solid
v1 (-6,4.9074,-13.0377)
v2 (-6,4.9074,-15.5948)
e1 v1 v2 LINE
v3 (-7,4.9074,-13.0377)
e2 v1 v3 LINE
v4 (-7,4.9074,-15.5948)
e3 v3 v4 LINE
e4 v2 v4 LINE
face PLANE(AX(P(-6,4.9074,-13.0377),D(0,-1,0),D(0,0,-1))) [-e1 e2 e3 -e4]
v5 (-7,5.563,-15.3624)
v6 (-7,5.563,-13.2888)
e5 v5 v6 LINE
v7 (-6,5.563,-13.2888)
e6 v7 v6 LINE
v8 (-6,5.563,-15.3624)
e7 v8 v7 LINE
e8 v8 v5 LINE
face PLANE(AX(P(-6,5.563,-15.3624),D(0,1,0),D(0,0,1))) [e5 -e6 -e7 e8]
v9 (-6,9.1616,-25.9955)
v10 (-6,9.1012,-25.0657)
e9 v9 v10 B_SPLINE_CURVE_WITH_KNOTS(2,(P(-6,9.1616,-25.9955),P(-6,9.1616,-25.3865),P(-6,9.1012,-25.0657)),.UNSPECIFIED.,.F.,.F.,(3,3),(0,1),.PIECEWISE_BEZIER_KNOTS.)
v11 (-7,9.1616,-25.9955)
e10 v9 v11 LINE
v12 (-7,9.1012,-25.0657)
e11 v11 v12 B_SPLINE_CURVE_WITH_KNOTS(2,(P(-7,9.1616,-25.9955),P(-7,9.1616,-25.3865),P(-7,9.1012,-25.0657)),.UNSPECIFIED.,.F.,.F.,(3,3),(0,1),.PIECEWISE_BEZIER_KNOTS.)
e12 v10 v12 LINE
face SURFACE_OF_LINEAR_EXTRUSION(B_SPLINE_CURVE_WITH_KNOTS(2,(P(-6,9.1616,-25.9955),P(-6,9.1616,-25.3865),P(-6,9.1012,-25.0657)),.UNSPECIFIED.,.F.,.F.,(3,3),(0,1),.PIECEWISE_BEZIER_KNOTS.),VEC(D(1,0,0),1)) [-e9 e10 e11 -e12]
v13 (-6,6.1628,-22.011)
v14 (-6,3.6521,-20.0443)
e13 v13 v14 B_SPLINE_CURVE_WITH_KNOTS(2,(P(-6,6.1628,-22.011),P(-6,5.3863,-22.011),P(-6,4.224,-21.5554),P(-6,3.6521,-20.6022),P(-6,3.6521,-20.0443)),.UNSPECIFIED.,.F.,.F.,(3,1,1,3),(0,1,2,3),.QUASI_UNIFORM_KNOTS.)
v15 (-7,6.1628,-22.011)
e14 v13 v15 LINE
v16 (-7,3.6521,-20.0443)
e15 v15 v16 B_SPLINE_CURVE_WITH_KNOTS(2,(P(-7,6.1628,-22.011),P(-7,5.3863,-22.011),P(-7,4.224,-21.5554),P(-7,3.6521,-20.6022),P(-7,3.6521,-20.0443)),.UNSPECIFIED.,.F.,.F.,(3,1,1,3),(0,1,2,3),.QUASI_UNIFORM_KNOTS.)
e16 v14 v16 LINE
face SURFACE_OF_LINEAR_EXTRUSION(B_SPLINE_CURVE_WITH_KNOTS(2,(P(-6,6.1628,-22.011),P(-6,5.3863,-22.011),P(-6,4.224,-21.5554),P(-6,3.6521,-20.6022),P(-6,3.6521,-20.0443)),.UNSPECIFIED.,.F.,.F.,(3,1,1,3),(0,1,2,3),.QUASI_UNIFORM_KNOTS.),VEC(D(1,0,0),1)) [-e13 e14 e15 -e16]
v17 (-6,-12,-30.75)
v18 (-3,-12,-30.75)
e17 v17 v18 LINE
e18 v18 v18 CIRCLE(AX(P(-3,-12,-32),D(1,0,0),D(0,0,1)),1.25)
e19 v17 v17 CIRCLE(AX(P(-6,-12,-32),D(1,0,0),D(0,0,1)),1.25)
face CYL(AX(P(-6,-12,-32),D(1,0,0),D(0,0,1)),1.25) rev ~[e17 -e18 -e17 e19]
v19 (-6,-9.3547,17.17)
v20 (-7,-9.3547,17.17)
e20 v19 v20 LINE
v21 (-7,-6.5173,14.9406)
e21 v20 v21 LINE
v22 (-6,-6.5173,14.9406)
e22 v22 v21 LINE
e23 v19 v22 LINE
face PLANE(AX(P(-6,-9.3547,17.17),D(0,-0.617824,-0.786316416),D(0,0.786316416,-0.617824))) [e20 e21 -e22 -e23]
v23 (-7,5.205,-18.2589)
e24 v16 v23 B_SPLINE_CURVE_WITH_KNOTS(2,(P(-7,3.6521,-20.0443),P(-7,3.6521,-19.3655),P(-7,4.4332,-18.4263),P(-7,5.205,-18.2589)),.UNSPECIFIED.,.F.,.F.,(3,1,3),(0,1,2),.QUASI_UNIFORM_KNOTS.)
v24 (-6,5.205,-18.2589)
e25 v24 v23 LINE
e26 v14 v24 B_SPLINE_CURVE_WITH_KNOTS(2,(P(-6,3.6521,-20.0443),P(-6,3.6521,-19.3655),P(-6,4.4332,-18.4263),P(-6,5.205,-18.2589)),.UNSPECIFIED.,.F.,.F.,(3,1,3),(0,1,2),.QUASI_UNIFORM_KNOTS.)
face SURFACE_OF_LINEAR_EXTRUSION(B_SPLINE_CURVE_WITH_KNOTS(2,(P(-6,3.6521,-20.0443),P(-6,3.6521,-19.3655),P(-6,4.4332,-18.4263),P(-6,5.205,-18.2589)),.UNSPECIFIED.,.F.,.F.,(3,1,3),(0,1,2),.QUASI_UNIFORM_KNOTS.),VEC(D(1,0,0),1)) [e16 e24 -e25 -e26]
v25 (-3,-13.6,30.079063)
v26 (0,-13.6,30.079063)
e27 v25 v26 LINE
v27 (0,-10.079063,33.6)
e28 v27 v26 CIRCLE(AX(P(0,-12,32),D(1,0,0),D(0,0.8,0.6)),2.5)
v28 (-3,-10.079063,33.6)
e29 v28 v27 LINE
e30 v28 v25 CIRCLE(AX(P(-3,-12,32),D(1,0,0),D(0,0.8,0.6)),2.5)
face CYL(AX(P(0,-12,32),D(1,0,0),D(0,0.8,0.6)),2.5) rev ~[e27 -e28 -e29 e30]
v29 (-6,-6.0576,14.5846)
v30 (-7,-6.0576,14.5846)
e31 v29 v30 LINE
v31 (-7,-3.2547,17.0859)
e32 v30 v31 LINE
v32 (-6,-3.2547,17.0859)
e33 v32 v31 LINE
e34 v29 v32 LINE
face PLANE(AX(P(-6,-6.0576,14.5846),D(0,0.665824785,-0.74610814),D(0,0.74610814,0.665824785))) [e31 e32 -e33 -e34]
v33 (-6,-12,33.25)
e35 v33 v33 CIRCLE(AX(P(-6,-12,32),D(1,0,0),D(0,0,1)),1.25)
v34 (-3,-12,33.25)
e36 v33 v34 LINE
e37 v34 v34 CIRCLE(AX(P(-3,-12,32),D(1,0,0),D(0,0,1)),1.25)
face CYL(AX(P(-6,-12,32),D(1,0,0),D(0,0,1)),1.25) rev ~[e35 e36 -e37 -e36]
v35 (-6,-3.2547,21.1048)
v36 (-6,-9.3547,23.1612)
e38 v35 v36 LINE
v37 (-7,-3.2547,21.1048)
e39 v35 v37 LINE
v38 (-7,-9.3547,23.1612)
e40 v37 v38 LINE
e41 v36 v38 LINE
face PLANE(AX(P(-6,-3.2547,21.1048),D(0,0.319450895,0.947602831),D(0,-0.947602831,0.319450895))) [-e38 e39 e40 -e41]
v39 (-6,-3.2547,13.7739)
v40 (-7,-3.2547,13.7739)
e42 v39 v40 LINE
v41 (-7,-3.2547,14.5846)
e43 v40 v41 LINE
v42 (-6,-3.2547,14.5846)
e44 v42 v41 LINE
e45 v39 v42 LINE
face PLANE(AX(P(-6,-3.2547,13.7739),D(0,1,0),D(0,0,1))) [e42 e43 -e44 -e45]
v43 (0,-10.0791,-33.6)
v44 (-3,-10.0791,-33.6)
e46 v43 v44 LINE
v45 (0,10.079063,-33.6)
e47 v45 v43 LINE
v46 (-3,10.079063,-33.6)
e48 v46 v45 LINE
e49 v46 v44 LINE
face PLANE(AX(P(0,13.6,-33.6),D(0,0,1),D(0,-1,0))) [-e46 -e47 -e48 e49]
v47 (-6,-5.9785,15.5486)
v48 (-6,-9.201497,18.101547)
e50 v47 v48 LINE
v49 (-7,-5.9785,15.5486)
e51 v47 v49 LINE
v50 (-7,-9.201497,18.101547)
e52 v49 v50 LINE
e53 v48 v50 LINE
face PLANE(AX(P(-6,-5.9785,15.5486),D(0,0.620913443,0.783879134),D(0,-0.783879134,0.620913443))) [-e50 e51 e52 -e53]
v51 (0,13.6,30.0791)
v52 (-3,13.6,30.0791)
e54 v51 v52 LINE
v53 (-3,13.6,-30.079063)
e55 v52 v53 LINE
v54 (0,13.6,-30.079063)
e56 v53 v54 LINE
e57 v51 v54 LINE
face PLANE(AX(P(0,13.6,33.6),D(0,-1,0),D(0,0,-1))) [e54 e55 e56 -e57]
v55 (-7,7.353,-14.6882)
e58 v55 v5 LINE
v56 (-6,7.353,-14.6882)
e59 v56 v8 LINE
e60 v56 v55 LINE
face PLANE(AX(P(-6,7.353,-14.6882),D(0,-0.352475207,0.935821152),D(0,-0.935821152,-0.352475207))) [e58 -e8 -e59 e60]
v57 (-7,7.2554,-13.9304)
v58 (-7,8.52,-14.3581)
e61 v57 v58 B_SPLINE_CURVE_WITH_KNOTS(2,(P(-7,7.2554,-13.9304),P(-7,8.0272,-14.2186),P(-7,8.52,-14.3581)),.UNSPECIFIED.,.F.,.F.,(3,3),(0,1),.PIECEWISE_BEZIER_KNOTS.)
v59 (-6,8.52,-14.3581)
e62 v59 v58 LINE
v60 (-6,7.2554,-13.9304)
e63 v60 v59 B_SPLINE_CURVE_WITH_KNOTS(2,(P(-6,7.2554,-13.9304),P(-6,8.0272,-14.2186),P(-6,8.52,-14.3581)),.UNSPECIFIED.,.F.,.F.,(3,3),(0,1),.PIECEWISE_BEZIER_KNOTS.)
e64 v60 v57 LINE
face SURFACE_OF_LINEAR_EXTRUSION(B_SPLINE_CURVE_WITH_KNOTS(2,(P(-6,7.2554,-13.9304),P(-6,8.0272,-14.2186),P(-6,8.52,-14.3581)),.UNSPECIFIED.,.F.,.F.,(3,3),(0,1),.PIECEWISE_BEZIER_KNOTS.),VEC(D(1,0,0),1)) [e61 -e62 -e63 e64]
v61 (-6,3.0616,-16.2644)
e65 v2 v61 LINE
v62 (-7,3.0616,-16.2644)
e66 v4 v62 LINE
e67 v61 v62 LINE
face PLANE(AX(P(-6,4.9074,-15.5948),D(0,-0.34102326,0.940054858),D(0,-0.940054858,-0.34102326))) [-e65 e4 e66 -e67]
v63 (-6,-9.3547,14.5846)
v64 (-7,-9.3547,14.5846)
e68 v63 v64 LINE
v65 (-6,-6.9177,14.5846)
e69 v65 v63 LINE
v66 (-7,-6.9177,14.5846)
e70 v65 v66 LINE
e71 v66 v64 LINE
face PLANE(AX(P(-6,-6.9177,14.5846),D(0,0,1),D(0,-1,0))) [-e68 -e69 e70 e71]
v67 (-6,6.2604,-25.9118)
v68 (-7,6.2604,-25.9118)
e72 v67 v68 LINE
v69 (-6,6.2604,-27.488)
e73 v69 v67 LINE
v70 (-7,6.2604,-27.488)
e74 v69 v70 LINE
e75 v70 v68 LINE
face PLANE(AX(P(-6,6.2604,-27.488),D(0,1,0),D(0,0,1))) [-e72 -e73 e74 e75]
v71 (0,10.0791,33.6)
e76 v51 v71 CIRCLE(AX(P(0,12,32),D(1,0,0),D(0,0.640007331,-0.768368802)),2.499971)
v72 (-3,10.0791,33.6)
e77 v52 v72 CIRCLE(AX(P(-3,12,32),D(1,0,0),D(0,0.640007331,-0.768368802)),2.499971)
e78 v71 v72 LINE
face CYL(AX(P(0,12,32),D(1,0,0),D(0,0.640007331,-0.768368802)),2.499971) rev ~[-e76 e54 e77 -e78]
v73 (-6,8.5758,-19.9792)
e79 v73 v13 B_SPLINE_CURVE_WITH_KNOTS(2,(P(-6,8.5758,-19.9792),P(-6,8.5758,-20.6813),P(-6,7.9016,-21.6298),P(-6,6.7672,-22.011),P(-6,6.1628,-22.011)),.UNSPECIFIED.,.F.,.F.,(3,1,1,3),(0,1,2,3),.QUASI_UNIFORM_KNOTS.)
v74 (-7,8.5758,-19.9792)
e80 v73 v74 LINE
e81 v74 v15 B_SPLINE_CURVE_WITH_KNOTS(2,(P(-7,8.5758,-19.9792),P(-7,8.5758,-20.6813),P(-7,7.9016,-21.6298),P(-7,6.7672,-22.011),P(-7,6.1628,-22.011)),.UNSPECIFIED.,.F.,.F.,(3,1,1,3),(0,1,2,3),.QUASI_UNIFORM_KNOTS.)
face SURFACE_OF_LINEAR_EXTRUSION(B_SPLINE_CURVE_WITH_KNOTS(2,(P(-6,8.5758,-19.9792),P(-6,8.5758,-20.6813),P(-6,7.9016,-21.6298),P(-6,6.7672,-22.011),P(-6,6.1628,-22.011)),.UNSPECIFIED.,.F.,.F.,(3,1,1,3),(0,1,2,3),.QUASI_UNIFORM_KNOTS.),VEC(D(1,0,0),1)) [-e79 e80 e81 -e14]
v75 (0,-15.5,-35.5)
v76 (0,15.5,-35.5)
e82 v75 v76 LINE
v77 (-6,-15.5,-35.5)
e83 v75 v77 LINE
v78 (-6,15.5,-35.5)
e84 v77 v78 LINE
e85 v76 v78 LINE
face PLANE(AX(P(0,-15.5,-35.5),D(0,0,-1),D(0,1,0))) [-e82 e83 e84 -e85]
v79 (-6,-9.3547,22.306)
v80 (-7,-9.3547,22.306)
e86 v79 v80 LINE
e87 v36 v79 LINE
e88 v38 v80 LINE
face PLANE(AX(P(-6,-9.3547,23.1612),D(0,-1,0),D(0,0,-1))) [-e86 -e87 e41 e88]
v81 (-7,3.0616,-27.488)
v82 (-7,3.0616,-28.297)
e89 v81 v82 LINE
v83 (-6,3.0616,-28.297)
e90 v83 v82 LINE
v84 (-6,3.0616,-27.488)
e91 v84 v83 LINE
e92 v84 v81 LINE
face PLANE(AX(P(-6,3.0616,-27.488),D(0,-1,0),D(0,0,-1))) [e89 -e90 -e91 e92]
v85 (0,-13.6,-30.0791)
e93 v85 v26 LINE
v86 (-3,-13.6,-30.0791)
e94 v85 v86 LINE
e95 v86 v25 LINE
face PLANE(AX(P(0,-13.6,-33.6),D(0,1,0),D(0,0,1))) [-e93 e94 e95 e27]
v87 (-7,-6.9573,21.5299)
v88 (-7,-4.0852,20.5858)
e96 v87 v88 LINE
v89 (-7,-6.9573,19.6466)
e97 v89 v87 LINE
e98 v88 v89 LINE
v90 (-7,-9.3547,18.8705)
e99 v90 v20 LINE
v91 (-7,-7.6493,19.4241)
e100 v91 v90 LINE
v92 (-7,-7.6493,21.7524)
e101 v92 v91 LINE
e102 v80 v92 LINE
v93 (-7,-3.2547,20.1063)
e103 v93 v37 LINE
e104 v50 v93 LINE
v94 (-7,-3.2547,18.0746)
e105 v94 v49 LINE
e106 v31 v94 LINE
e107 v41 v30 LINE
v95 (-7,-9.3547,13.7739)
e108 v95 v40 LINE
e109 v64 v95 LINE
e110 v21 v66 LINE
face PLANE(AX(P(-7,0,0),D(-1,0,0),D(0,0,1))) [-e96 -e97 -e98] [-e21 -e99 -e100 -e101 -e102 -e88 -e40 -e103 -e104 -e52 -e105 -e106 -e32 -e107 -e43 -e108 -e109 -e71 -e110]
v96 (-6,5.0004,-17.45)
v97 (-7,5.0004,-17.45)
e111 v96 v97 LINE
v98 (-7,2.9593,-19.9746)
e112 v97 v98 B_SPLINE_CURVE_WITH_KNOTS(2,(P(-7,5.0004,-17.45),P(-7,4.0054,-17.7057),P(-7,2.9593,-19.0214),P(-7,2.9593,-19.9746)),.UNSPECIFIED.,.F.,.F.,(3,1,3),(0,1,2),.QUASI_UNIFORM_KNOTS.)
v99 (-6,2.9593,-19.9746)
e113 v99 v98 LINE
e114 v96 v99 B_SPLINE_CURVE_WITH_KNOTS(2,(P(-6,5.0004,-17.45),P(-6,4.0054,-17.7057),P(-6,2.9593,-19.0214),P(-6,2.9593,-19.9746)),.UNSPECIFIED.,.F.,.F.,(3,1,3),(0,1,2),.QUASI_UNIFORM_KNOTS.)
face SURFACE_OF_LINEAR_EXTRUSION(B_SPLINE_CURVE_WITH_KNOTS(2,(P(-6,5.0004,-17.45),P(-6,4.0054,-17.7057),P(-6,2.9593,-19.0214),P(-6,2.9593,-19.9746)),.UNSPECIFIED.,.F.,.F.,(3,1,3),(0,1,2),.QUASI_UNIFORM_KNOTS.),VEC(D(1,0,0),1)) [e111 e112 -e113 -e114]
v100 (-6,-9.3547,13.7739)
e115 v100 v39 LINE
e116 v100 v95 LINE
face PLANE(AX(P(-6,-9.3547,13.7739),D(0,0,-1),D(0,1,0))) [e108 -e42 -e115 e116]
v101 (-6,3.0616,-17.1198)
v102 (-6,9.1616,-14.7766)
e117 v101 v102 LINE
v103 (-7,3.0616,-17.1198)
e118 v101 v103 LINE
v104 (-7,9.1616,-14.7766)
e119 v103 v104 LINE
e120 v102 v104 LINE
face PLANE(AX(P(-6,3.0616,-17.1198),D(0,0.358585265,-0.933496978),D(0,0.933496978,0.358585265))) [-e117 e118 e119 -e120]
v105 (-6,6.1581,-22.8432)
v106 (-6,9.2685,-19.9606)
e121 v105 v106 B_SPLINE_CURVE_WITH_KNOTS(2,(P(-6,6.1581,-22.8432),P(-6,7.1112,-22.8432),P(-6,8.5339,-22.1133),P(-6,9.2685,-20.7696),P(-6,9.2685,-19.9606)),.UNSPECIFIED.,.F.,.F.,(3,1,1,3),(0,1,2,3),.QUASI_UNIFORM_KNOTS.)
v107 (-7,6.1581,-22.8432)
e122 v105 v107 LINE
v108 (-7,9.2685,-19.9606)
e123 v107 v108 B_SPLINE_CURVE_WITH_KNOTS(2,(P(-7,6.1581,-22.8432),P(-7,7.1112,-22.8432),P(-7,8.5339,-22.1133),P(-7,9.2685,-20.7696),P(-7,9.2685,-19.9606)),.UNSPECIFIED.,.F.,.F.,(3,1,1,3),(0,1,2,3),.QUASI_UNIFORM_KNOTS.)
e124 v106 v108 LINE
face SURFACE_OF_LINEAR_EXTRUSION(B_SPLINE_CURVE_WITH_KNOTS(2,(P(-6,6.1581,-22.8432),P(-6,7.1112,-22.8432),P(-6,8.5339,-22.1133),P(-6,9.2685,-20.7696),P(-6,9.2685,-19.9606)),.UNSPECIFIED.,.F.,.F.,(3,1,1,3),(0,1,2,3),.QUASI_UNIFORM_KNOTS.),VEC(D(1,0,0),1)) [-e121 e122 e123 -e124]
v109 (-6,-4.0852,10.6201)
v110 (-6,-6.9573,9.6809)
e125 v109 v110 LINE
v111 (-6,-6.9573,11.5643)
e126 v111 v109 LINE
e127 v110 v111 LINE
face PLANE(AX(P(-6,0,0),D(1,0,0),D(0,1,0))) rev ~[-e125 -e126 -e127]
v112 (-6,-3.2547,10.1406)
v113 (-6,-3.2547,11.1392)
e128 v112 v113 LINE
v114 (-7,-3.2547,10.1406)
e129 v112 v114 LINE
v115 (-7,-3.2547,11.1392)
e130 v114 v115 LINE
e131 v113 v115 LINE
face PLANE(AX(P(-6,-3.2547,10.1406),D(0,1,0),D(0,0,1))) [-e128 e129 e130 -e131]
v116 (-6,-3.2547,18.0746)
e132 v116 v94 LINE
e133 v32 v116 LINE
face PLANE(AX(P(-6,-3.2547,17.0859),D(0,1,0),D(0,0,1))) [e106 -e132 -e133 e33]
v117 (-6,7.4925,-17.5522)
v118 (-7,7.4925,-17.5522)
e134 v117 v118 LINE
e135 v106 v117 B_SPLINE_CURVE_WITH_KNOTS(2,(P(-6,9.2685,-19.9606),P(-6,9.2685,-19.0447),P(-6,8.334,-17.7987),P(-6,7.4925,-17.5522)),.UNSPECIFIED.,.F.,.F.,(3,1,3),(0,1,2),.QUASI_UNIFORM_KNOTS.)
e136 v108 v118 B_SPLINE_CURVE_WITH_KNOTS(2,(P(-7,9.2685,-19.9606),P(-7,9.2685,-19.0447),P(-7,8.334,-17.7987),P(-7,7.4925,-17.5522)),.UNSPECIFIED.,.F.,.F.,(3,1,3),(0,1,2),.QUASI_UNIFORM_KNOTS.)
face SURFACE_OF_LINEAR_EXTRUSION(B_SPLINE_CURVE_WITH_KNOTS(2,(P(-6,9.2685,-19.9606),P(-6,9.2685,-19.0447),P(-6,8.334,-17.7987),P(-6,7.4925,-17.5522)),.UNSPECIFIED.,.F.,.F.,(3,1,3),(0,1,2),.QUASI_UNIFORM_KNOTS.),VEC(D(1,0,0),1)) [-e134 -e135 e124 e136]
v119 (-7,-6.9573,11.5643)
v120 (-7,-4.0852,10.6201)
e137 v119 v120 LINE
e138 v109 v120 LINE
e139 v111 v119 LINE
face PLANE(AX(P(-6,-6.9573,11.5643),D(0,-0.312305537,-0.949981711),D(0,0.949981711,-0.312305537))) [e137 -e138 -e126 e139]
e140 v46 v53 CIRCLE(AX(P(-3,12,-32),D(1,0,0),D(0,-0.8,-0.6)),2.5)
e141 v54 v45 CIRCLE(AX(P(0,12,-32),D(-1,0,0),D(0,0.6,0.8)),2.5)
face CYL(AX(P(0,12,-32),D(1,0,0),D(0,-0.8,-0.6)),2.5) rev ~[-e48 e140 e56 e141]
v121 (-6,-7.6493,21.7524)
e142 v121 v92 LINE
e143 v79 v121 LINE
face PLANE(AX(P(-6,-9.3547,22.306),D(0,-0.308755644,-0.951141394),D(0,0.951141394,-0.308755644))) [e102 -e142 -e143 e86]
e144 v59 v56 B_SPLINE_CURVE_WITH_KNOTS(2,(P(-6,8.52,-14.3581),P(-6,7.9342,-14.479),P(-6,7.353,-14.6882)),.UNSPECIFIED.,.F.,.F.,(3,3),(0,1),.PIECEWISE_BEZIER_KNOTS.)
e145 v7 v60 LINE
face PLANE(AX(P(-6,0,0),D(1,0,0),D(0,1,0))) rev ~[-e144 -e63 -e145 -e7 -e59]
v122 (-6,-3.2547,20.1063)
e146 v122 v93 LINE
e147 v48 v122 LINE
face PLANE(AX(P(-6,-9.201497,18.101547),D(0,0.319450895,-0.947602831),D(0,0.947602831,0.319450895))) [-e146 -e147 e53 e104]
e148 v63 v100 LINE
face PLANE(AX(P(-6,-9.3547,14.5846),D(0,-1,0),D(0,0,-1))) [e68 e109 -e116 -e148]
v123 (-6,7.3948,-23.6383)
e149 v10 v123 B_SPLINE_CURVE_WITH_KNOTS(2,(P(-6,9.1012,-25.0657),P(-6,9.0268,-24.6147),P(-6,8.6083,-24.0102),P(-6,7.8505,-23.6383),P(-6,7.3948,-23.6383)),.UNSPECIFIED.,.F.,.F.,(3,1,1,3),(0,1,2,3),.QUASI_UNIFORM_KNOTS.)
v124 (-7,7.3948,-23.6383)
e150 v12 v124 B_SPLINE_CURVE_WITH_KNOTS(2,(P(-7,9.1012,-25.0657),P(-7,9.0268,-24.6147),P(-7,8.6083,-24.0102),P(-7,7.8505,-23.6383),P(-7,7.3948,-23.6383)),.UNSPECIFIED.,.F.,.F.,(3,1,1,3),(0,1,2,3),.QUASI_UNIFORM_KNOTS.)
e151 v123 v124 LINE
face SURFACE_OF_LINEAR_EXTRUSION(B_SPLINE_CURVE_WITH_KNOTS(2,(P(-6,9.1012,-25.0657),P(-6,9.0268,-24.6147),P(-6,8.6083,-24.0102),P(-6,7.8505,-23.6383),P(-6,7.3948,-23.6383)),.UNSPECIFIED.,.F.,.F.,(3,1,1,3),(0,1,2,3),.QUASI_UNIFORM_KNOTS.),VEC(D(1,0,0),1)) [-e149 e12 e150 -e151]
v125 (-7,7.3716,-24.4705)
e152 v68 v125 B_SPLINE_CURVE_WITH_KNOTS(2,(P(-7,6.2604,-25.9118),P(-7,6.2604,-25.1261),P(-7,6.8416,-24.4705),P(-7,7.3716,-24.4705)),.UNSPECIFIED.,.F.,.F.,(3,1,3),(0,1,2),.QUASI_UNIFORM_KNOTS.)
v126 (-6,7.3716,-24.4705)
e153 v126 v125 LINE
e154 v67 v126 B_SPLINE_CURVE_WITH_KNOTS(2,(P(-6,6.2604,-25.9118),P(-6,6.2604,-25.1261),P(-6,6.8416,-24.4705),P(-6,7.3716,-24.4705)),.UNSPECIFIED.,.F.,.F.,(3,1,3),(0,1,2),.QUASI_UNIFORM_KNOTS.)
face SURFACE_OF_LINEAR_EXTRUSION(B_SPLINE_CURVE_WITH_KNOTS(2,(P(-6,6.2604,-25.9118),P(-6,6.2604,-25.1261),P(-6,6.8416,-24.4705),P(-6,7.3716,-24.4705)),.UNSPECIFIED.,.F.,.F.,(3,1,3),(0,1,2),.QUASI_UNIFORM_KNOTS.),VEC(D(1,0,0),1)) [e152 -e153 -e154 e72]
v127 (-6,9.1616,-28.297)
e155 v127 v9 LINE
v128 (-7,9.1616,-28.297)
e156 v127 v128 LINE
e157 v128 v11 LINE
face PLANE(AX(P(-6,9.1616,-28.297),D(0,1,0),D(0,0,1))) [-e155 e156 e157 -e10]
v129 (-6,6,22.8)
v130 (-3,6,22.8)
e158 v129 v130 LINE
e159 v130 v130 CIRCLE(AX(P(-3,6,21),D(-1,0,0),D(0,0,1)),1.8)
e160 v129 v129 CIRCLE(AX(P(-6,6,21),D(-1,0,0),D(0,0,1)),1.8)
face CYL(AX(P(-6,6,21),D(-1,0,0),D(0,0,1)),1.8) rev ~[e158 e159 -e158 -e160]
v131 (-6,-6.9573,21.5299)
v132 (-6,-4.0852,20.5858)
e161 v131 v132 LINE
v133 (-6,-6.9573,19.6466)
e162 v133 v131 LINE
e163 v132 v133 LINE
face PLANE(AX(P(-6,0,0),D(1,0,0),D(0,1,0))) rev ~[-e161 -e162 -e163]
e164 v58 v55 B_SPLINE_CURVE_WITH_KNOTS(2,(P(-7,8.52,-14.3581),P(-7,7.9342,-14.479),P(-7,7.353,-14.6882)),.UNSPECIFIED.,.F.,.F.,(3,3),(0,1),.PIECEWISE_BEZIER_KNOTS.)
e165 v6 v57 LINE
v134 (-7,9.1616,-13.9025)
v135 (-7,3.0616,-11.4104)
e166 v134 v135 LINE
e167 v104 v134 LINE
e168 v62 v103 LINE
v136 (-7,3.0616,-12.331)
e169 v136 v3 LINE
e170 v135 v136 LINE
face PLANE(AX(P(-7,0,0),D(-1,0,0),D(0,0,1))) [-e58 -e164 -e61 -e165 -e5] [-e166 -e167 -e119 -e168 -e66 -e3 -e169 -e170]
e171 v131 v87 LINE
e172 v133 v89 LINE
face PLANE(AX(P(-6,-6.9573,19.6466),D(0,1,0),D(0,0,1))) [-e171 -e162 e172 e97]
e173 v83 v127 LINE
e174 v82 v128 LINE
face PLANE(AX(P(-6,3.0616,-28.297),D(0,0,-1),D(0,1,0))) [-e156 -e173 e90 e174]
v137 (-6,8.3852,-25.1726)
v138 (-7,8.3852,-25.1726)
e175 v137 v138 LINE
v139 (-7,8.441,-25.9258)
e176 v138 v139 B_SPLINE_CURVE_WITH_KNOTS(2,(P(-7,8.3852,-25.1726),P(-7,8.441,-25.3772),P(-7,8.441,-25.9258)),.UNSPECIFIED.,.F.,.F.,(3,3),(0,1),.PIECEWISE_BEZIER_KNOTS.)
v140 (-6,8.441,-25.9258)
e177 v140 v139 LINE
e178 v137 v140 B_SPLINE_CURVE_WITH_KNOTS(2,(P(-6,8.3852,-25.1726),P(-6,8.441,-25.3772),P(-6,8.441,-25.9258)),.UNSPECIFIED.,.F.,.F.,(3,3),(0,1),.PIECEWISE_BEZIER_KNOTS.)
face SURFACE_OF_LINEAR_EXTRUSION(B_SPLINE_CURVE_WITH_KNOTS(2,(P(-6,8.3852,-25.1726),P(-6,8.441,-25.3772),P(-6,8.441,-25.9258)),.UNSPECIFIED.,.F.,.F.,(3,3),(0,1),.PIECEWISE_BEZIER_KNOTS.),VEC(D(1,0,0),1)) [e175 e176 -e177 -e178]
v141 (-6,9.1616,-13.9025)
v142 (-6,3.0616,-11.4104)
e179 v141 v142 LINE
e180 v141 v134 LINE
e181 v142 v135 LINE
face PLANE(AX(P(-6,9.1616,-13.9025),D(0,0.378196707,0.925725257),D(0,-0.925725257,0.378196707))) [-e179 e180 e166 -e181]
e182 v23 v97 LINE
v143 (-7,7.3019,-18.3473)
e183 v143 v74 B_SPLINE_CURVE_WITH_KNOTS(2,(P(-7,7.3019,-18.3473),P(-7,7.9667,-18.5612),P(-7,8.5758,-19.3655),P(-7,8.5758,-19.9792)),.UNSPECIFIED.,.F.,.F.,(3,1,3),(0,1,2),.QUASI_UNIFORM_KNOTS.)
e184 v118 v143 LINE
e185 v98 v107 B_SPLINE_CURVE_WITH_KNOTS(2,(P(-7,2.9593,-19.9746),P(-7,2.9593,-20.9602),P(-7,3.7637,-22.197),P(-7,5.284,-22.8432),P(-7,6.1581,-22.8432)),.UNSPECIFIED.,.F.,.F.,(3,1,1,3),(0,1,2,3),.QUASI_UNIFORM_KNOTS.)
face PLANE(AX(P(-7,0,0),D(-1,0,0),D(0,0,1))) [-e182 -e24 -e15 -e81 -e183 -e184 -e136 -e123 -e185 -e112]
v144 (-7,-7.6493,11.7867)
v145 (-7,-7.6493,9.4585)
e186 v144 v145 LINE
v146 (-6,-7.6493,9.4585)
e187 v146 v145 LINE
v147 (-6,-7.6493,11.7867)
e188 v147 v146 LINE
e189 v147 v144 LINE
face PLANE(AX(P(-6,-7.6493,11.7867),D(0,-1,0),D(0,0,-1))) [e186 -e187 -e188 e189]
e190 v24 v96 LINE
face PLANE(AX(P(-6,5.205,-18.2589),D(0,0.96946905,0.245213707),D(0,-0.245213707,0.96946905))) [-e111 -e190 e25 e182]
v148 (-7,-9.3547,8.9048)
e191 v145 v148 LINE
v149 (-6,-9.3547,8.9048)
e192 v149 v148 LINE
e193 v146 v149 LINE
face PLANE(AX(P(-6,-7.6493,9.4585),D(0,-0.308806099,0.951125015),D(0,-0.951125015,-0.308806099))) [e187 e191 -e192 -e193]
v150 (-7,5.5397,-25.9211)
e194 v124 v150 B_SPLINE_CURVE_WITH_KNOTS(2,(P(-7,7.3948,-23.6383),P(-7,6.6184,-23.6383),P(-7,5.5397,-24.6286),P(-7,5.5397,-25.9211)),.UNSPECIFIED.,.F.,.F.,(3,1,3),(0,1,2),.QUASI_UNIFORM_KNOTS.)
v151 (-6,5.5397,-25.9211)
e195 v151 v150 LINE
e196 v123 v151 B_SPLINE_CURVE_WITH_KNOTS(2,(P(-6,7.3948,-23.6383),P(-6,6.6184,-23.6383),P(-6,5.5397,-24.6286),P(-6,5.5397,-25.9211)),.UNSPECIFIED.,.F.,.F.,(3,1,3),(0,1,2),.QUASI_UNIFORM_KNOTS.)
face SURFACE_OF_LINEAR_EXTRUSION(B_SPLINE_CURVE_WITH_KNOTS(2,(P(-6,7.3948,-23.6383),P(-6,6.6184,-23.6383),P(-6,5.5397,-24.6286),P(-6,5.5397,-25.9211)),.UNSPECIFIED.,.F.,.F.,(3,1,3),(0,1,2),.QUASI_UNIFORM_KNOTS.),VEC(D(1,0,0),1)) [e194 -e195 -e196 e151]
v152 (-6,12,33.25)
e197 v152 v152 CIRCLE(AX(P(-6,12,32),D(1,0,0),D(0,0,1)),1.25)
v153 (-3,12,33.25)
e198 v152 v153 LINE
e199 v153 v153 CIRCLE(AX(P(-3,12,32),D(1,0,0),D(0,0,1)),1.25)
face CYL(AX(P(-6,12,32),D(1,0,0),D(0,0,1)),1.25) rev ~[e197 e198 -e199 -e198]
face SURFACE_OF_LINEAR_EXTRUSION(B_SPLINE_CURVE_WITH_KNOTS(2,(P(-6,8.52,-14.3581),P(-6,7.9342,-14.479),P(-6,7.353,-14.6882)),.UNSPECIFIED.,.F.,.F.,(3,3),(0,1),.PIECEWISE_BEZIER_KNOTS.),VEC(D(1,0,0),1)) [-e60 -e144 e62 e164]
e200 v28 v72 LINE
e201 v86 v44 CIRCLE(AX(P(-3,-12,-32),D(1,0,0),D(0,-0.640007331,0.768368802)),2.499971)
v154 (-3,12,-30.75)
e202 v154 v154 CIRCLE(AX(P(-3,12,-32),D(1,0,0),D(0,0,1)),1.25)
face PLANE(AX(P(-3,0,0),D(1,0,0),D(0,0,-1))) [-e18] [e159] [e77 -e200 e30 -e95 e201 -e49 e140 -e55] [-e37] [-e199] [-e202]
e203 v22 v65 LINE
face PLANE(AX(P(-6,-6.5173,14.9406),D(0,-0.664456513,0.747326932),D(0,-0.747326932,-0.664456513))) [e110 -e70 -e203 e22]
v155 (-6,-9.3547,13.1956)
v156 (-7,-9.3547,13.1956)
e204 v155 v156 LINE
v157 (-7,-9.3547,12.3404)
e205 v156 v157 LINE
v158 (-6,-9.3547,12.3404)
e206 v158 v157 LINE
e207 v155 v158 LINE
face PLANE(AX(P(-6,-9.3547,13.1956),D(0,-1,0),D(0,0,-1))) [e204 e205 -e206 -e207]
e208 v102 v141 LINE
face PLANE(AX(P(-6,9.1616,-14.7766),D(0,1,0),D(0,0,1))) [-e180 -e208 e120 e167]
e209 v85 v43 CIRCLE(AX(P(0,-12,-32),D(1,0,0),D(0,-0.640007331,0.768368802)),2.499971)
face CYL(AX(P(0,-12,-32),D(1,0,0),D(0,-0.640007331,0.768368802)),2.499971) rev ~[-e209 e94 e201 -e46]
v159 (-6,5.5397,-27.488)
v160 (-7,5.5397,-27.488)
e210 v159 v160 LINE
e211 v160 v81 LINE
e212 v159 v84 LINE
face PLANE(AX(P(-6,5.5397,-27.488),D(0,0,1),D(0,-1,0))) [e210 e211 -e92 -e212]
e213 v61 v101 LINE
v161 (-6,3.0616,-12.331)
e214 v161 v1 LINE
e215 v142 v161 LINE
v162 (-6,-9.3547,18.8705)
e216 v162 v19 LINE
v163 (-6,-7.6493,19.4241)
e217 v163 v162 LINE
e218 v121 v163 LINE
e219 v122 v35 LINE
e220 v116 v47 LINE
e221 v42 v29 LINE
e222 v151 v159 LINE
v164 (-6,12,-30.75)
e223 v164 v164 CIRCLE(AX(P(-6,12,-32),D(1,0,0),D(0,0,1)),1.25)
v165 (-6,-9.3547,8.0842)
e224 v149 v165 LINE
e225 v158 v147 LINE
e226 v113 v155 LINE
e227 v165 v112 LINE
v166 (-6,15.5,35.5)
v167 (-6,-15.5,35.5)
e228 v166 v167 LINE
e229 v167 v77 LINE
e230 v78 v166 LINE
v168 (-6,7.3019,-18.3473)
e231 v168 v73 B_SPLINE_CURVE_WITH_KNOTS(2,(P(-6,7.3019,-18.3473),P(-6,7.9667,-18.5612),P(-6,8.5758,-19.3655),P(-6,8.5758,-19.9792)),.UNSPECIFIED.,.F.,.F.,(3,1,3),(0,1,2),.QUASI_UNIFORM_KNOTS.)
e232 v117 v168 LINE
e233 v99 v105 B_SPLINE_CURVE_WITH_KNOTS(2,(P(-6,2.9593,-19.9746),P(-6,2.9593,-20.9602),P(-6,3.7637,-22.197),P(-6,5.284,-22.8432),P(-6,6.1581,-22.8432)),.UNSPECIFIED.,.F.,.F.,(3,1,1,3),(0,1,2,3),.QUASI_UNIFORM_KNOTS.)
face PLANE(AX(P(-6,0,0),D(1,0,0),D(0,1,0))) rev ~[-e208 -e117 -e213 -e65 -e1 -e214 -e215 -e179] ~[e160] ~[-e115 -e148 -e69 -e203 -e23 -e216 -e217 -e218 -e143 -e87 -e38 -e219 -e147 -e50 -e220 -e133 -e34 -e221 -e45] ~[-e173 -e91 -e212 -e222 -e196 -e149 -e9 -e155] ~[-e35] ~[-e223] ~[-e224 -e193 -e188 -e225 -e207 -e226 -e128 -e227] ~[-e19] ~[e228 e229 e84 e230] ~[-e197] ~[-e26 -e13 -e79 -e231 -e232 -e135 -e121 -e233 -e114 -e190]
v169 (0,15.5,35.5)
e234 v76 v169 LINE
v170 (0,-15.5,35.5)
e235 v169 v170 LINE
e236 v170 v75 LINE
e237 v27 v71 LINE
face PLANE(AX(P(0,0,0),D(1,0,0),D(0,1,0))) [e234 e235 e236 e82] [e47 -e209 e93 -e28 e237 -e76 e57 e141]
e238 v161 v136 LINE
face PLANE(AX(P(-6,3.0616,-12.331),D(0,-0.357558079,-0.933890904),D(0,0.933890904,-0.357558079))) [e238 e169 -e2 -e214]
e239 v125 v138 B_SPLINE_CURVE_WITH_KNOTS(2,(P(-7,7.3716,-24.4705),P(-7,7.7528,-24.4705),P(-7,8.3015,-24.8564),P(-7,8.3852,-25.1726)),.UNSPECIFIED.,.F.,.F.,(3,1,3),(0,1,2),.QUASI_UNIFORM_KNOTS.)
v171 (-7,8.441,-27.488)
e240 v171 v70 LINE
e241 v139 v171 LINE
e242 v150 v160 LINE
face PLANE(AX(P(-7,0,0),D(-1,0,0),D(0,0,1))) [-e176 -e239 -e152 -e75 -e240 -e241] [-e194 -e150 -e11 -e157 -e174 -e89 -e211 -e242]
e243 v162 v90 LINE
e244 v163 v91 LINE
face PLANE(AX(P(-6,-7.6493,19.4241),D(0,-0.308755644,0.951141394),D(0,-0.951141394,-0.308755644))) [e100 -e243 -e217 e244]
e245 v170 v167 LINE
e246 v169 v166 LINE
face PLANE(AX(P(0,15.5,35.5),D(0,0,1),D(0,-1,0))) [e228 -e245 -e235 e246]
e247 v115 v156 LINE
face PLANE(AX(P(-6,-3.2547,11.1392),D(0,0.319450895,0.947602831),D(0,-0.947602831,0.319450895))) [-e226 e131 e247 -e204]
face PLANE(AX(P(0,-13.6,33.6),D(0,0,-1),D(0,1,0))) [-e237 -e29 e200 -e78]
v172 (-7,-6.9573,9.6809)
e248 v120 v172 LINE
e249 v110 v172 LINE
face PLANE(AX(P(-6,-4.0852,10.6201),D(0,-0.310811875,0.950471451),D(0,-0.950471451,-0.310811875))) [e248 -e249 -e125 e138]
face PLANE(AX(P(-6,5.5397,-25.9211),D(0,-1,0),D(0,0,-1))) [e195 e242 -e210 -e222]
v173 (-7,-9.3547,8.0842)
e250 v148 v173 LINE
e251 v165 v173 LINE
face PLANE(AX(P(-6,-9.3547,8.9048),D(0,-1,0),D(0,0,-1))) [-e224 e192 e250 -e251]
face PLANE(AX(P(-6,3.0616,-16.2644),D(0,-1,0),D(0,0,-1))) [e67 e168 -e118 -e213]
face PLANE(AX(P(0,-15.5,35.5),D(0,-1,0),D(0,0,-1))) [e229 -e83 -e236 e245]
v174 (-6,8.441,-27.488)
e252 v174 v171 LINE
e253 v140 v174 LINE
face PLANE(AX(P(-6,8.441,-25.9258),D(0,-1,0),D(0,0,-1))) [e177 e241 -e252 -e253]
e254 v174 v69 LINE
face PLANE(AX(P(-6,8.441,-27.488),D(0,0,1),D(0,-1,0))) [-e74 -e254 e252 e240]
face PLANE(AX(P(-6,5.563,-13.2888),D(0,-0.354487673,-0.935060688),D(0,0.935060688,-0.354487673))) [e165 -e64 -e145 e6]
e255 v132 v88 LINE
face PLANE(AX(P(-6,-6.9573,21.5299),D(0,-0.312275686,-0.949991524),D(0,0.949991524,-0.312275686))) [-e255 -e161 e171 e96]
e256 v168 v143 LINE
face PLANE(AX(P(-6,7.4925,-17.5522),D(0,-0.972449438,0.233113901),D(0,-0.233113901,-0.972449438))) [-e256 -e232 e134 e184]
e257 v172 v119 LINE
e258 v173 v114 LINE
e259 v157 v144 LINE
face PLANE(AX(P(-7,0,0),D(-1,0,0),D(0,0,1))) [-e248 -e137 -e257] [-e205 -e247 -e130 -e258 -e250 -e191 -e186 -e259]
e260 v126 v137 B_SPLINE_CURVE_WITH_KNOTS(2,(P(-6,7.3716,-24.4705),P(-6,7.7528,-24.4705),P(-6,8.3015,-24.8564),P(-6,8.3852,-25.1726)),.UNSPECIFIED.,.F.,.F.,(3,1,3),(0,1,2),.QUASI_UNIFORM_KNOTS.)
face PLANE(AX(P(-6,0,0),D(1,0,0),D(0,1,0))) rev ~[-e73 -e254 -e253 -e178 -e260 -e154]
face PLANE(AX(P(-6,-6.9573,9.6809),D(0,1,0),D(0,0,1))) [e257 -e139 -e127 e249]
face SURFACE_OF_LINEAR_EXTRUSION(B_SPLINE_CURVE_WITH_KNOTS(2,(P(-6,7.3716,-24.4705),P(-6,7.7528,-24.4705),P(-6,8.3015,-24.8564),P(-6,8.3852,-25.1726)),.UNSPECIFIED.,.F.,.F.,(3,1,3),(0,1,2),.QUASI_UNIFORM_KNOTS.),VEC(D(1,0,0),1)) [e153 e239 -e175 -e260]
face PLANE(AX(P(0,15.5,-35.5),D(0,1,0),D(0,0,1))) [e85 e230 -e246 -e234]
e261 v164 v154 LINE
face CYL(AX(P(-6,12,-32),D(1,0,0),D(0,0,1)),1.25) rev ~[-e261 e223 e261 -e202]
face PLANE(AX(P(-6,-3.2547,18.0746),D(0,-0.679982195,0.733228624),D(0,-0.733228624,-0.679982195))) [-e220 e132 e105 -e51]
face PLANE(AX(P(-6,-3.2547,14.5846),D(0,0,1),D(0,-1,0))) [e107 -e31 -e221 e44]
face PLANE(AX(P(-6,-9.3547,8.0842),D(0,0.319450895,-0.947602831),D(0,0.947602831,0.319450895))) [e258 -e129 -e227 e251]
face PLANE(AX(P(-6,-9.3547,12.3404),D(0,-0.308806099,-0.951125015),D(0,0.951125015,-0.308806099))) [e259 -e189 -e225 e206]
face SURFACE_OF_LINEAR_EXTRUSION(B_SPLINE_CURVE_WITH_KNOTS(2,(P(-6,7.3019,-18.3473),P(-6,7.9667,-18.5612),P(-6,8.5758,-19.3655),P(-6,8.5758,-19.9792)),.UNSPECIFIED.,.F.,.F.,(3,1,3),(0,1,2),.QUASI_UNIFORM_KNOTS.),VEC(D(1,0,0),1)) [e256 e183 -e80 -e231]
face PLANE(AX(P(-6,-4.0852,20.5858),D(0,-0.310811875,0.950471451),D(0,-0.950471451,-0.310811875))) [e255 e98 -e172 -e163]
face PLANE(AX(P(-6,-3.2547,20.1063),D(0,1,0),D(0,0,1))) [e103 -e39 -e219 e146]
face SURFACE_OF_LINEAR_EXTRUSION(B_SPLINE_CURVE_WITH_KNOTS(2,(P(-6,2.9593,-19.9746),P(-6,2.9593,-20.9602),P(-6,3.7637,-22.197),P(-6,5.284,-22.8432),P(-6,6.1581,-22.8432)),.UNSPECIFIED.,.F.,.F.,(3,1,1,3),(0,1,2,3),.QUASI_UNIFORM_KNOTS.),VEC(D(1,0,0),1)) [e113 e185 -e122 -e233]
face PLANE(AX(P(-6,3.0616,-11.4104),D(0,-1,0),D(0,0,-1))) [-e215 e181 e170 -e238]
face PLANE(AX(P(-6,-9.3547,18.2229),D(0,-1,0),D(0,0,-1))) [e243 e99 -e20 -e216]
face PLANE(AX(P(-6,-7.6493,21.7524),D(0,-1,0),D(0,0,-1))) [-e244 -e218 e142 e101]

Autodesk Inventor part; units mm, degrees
ref_plane "YZ Plane" through (0, 0, 0) normal (1, 0, 0) x (0, 1, 0)
ref_plane "XZ Plane" through (0, 0, 0) normal (0, 1, 0) x (-1, 0, 0)
ref_plane "XY Plane" through (0, 0, 0) normal (0, 0, 1) x (1, 0, 0)
sketch "Esquisse1" plane through (0, 0, 0) normal (1, 0, 0) x (0, 1, 0)
  line L0 (-15.5, -35.5) -> (15.5, -35.5)
  line L1 (15.5, -35.5) -> (15.5, 35.5)
  line L2 (15.5, 35.5) -> (-15.5, 35.5)
  line L3 (-15.5, 35.5) -> (-15.5, -35.5)
  line L4 (-15.5, -35.5) -> (15.5, 35.5) construction
  line L5 (15.5, -35.5) -> (-15.5, 35.5) construction
  point P0 (0, 0)
  dimension "d0" = 31
  dimension "d1" = 71
extrude "Extrusion1" add sketch "Esquisse1" against normal blind 6
sketch "Esquisse2" plane through (0, 0, 0) normal (1, 0, 0) x (0, 0, -1)
  line L0 (33.6, -13.6) -> (-33.6, -13.6)
  line L1 (-33.6, -13.6) -> (-33.6, 13.6)
  line L2 (-33.6, 13.6) -> (33.6, 13.6)
  line L3 (33.6, 13.6) -> (33.6, -13.6)
  line L4 (33.6, -13.6) -> (-33.6, 13.6) construction
  line L5 (-33.6, -13.6) -> (33.6, 13.6) construction
  point P0 (0, 0)
  dimension "d4" = 67.2
  dimension "d5" = 27.2
extrude "Extrusion2" cut sketch "Esquisse2" against normal blind 3
sketch "Esquisse3" plane through (0, 0, 0) normal (1, 0, 0) x (0, 0, -1)
  line L0 (32, -12) -> (-32, 12) construction
  line L1 (-32, -12) -> (32, 12) construction
  arc A0 (-30.0791, 13.6) -> (-33.6, 10.0791) centre (-32, 12) ccw
  arc A1 (33.5, 10) -> (30, 13.5) centre (32, 12) ccw
  arc A2 (30.0791, -13.6) -> (33.6, -10.0791) centre (32, -12) ccw
  line L2 (-33.6, 13.6) -> (33.6, 13.6) projected
  line L3 (33.6, -13.6) -> (-33.6, 13.6) construction
  line L4 (-33.5, -13.5) -> (33.5, 13.5) construction
  arc A3 (-33.5, -10) -> (-30, -13.5) centre (-32, -12) ccw
  line L5 (-33.6, 13.6) -> (-30.0791, 13.6)
  line L6 (30, 13.5) -> (33.5, 13.5)
  line L7 (-33.5, -13.5) -> (-33.5, -10)
  line L8 (-33.6, 10.0791) -> (-33.6, 13.6)
  line L9 (33.6, -13.6) -> (30.0791, -13.6)
  line L10 (-30, -13.5) -> (-33.5, -13.5)
  line L11 (33.5, 13.5) -> (33.5, 10)
  line L12 (33.6, -10.0791) -> (33.6, -13.6)
  point P0 (0, 0)
  point P1 (33.5, 13.5)
  point P2 (30.0791, 13.6)
  point P3 (-30.0791, 13.6)
  dimension "d8" = 64
  dimension "d9" = 24
  dimension "d10" = 5
  dimension "d12" = 5
  dimension "d13" = 5
extrude "Extrusion3" cut sketch "Esquisse3" against normal blind 3
sketch "Esquisse4" plane through (-6, 0, 0) normal (-1, 0, 0) x (0, 0, 1)
  line L0 (-28.9525, 9.2685) -> (3.8656, 9.2685) construction
  line L1 (3.8656, 9.2685) -> (3.8656, -1.9036) construction
  line L2 (3.8656, -1.9036) -> (-28.9525, -1.9036) construction
  line L3 (-28.9525, -1.9036) -> (-28.9525, 9.2685) construction
  line L4 (8.1238, -3.2547) -> (23.4156, -3.2547) construction
  line L5 (23.4156, -3.2547) -> (23.4156, -10.1675) construction
  line L6 (23.4156, -10.1675) -> (8.1238, -10.1675) construction
  line L7 (8.1238, -10.1675) -> (8.1238, -3.2547) construction
  line L8 (-28.297, 3.0616) -> (-28.297, 9.1616)
  line L9 (-28.297, 9.1616) -> (-25.9955, 9.1616)
  spline S0 degree 2 poles (-25.9955, 9.1616) (-25.3865, 9.1616) (-25.0657, 9.1012) knots 0 0 0 1 1 1
  spline S1 degree 2 poles (-25.0657, 9.1012) (-24.6147, 9.0268) (-24.0102, 8.6083) (-23.6383, 7.8505) (-23.6383, 7.3948) knots 0 0 0 1 2 3 3 3
  spline S2 degree 2 poles (-23.6383, 7.3948) (-23.6383, 6.6184) (-24.6286, 5.5397) (-25.9211, 5.5397) knots 0 0 0 1 2 2 2
  line L10 (-25.9211, 5.5397) -> (-27.488, 5.5397)
  line L11 (-27.488, 5.5397) -> (-27.488, 3.0616)
  line L12 (-27.488, 3.0616) -> (-28.297, 3.0616)
  line L13 (-27.488, 6.2604) -> (-25.9118, 6.2604)
  spline S3 degree 2 poles (-25.9118, 6.2604) (-25.1261, 6.2604) (-24.4705, 6.8416) (-24.4705, 7.3716) knots 0 0 0 1 2 2 2
  spline S4 degree 2 poles (-24.4705, 7.3716) (-24.4705, 7.7528) (-24.8564, 8.3015) (-25.1726, 8.3852) knots 0 0 0 1 2 2 2
  spline S5 degree 2 poles (-25.1726, 8.3852) (-25.3772, 8.441) (-25.9258, 8.441) knots 0 0 0 1 1 1
  line L14 (-25.9258, 8.441) -> (-27.488, 8.441)
  line L15 (-27.488, 8.441) -> (-27.488, 6.2604)
  line L16 (-18.2589, 5.205) -> (-17.45, 5.0004)
  spline S6 degree 2 poles (-17.45, 5.0004) (-17.7057, 4.0054) (-19.0214, 2.9593) (-19.9746, 2.9593) knots 0 0 0 1 2 2 2
  spline S7 degree 2 poles (-19.9746, 2.9593) (-20.9602, 2.9593) (-22.197, 3.7637) (-22.8432, 5.284) (-22.8432, 6.1581) knots 0 0 0 1 2 3 3 3
  spline S8 degree 2 poles (-22.8432, 6.1581) (-22.8432, 7.1112) (-22.1133, 8.5339) (-20.7696, 9.2685) (-19.9606, 9.2685) knots 0 0 0 1 2 3 3 3
  spline S9 degree 2 poles (-19.9606, 9.2685) (-19.0447, 9.2685) (-17.7987, 8.334) (-17.5522, 7.4925) knots 0 0 0 1 2 2 2
  line L17 (-17.5522, 7.4925) -> (-18.3473, 7.3019)
  spline S10 degree 2 poles (-18.3473, 7.3019) (-18.5612, 7.9667) (-19.3655, 8.5758) (-19.9792, 8.5758) knots 0 0 0 1 2 2 2
  spline S11 degree 2 poles (-19.9792, 8.5758) (-20.6813, 8.5758) (-21.6298, 7.9016) (-22.011, 6.7672) (-22.011, 6.1628) knots 0 0 0 1 2 3 3 3
  spline S12 degree 2 poles (-22.011, 6.1628) (-22.011, 5.3863) (-21.5554, 4.224) (-20.6022, 3.6521) (-20.0443, 3.6521) knots 0 0 0 1 2 3 3 3
  spline S13 degree 2 poles (-20.0443, 3.6521) (-19.3655, 3.6521) (-18.4263, 4.4332) (-18.2589, 5.205) knots 0 0 0 1 2 2 2
  line L18 (-17.1198, 3.0616) -> (-14.7766, 9.1616)
  line L19 (-14.7766, 9.1616) -> (-13.9025, 9.1616)
  line L20 (-13.9025, 9.1616) -> (-11.4104, 3.0616)
  line L21 (-11.4104, 3.0616) -> (-12.331, 3.0616)
  line L22 (-12.331, 3.0616) -> (-13.0377, 4.9074)
  line L23 (-13.0377, 4.9074) -> (-15.5948, 4.9074)
  line L24 (-15.5948, 4.9074) -> (-16.2644, 3.0616)
  line L25 (-16.2644, 3.0616) -> (-17.1198, 3.0616)
  line L26 (-15.3624, 5.563) -> (-13.2888, 5.563)
  line L27 (-13.2888, 5.563) -> (-13.9304, 7.2554)
  spline S14 degree 2 poles (-13.9304, 7.2554) (-14.2186, 8.0272) (-14.3581, 8.52) knots 0 0 0 1 1 1
  spline S15 degree 2 poles (-14.3581, 8.52) (-14.479, 7.9342) (-14.6882, 7.353) knots 0 0 0 1 1 1
  line L28 (-14.6882, 7.353) -> (-15.3624, 5.563)
  line L29 (8.0842, -9.3547) -> (10.1406, -3.2547)
  line L30 (10.1406, -3.2547) -> (11.1392, -3.2547)
  line L31 (11.1392, -3.2547) -> (13.1956, -9.3547)
  line L32 (13.1956, -9.3547) -> (12.3404, -9.3547)
  line L33 (12.3404, -9.3547) -> (11.7867, -7.6493)
  line L34 (11.7867, -7.6493) -> (9.4585, -7.6493)
  line L35 (9.4585, -7.6493) -> (8.9048, -9.3547)
  line L36 (8.9048, -9.3547) -> (8.0842, -9.3547)
  line L37 (11.5643, -6.9573) -> (10.6201, -4.0852)
  line L38 (10.6201, -4.0852) -> (9.6809, -6.9573)
  line L39 (9.6809, -6.9573) -> (11.5643, -6.9573)
  line L40 (18.2229, -9.3547) -> (17.17, -9.3547)
  line L41 (17.17, -9.3547) -> (14.9406, -6.5173)
  line L42 (14.9406, -6.5173) -> (14.5846, -6.9177)
  line L43 (14.5846, -6.9177) -> (14.5846, -9.3547)
  line L44 (14.5846, -9.3547) -> (13.7739, -9.3547)
  line L45 (13.7739, -9.3547) -> (13.7739, -3.2547)
  line L46 (13.7739, -3.2547) -> (14.5846, -3.2547)
  line L47 (14.5846, -3.2547) -> (14.5846, -6.0576)
  line L48 (14.5846, -6.0576) -> (17.0859, -3.2547)
  line L49 (17.0859, -3.2547) -> (18.0746, -3.2547)
  line L50 (18.0746, -3.2547) -> (15.5486, -5.9785)
  line L51 (15.5486, -5.9785) -> (18.2229, -9.3547)
  line L52 (18.0499, -9.3547) -> (20.1063, -3.2547)
  line L53 (20.1063, -3.2547) -> (21.1048, -3.2547)
  line L54 (21.1048, -3.2547) -> (23.1612, -9.3547)
  line L55 (23.1612, -9.3547) -> (22.306, -9.3547)
  line L56 (22.306, -9.3547) -> (21.7524, -7.6493)
  line L57 (21.7524, -7.6493) -> (19.4241, -7.6493)
  line L58 (19.4241, -7.6493) -> (18.8705, -9.3547)
  line L59 (18.8705, -9.3547) -> (18.0499, -9.3547)
  line L60 (21.5299, -6.9573) -> (20.5858, -4.0852)
  line L61 (20.5858, -4.0852) -> (19.6466, -6.9573)
  line L62 (19.6466, -6.9573) -> (21.5299, -6.9573)
  point P0 (0, 0)
extrude "Extrusion4" add sketch "Esquisse4" along normal blind 1
sketch "Esquisse5" plane through (-6, 0, 0) normal (-1, 0, 0) x (0, 0, 1)
  arc A0 (-30.0791, 13.6) -> (-33.6, 10.0791) centre (-32, 12) ccw projected
  line L0 (32, -12) -> (-32, -12)
  line L1 (-32, -12) -> (-32, 12)
  line L2 (-32, 12) -> (32, 12)
  line L3 (32, 12) -> (32, -12)
  line L4 (32, -12) -> (-32, 12) construction
  line L5 (-32, -12) -> (32, 12) construction
  circle A1 centre (-32, 12) radius 1.25
  circle A2 centre (-32, -12) radius 1.25
  circle A3 centre (32, 12) radius 1.25
  circle A4 centre (32, -12) radius 1.25
  line L6 (35.5, 15.5) -> (-35.5, 15.5) projected
  line L7 (35.5, -15.5) -> (35.5, 15.5) projected
  point P0 (0, 0)
  dimension "d18" = 64
  dimension "d19" = 24
  dimension "d20" = 2.5
  dimension "d21" = 2.5
  dimension "d22" = 2.5
  dimension "d24" = 2.5
hole "Perçage1" at (-6, 12, 32) at (-6, -12, -32) at (-6, -12, 32) at (-6, 12, -32) direction (1, 0, 0) diameter 2.5 end through all
sketch "Esquisse6" plane through (-6, 0, 0) normal (-1, 0, 0) x (0, 0, 1)
  circle A0 centre (21, 6) radius 1.8
  line L0 (35.5, 15.5) -> (-35.5, 15.5) projected
  line L1 (35.5, -15.5) -> (35.5, 15.5) projected
  point P0 (0, 0)
  dimension "d37" = 3.6
  dimension "d38" = 9.5
  dimension "d39" = 14.5
extrude "Extrusion5" cut sketch "Esquisse6" against normal blind 10
properties part number "wb_box2026_lid1"
